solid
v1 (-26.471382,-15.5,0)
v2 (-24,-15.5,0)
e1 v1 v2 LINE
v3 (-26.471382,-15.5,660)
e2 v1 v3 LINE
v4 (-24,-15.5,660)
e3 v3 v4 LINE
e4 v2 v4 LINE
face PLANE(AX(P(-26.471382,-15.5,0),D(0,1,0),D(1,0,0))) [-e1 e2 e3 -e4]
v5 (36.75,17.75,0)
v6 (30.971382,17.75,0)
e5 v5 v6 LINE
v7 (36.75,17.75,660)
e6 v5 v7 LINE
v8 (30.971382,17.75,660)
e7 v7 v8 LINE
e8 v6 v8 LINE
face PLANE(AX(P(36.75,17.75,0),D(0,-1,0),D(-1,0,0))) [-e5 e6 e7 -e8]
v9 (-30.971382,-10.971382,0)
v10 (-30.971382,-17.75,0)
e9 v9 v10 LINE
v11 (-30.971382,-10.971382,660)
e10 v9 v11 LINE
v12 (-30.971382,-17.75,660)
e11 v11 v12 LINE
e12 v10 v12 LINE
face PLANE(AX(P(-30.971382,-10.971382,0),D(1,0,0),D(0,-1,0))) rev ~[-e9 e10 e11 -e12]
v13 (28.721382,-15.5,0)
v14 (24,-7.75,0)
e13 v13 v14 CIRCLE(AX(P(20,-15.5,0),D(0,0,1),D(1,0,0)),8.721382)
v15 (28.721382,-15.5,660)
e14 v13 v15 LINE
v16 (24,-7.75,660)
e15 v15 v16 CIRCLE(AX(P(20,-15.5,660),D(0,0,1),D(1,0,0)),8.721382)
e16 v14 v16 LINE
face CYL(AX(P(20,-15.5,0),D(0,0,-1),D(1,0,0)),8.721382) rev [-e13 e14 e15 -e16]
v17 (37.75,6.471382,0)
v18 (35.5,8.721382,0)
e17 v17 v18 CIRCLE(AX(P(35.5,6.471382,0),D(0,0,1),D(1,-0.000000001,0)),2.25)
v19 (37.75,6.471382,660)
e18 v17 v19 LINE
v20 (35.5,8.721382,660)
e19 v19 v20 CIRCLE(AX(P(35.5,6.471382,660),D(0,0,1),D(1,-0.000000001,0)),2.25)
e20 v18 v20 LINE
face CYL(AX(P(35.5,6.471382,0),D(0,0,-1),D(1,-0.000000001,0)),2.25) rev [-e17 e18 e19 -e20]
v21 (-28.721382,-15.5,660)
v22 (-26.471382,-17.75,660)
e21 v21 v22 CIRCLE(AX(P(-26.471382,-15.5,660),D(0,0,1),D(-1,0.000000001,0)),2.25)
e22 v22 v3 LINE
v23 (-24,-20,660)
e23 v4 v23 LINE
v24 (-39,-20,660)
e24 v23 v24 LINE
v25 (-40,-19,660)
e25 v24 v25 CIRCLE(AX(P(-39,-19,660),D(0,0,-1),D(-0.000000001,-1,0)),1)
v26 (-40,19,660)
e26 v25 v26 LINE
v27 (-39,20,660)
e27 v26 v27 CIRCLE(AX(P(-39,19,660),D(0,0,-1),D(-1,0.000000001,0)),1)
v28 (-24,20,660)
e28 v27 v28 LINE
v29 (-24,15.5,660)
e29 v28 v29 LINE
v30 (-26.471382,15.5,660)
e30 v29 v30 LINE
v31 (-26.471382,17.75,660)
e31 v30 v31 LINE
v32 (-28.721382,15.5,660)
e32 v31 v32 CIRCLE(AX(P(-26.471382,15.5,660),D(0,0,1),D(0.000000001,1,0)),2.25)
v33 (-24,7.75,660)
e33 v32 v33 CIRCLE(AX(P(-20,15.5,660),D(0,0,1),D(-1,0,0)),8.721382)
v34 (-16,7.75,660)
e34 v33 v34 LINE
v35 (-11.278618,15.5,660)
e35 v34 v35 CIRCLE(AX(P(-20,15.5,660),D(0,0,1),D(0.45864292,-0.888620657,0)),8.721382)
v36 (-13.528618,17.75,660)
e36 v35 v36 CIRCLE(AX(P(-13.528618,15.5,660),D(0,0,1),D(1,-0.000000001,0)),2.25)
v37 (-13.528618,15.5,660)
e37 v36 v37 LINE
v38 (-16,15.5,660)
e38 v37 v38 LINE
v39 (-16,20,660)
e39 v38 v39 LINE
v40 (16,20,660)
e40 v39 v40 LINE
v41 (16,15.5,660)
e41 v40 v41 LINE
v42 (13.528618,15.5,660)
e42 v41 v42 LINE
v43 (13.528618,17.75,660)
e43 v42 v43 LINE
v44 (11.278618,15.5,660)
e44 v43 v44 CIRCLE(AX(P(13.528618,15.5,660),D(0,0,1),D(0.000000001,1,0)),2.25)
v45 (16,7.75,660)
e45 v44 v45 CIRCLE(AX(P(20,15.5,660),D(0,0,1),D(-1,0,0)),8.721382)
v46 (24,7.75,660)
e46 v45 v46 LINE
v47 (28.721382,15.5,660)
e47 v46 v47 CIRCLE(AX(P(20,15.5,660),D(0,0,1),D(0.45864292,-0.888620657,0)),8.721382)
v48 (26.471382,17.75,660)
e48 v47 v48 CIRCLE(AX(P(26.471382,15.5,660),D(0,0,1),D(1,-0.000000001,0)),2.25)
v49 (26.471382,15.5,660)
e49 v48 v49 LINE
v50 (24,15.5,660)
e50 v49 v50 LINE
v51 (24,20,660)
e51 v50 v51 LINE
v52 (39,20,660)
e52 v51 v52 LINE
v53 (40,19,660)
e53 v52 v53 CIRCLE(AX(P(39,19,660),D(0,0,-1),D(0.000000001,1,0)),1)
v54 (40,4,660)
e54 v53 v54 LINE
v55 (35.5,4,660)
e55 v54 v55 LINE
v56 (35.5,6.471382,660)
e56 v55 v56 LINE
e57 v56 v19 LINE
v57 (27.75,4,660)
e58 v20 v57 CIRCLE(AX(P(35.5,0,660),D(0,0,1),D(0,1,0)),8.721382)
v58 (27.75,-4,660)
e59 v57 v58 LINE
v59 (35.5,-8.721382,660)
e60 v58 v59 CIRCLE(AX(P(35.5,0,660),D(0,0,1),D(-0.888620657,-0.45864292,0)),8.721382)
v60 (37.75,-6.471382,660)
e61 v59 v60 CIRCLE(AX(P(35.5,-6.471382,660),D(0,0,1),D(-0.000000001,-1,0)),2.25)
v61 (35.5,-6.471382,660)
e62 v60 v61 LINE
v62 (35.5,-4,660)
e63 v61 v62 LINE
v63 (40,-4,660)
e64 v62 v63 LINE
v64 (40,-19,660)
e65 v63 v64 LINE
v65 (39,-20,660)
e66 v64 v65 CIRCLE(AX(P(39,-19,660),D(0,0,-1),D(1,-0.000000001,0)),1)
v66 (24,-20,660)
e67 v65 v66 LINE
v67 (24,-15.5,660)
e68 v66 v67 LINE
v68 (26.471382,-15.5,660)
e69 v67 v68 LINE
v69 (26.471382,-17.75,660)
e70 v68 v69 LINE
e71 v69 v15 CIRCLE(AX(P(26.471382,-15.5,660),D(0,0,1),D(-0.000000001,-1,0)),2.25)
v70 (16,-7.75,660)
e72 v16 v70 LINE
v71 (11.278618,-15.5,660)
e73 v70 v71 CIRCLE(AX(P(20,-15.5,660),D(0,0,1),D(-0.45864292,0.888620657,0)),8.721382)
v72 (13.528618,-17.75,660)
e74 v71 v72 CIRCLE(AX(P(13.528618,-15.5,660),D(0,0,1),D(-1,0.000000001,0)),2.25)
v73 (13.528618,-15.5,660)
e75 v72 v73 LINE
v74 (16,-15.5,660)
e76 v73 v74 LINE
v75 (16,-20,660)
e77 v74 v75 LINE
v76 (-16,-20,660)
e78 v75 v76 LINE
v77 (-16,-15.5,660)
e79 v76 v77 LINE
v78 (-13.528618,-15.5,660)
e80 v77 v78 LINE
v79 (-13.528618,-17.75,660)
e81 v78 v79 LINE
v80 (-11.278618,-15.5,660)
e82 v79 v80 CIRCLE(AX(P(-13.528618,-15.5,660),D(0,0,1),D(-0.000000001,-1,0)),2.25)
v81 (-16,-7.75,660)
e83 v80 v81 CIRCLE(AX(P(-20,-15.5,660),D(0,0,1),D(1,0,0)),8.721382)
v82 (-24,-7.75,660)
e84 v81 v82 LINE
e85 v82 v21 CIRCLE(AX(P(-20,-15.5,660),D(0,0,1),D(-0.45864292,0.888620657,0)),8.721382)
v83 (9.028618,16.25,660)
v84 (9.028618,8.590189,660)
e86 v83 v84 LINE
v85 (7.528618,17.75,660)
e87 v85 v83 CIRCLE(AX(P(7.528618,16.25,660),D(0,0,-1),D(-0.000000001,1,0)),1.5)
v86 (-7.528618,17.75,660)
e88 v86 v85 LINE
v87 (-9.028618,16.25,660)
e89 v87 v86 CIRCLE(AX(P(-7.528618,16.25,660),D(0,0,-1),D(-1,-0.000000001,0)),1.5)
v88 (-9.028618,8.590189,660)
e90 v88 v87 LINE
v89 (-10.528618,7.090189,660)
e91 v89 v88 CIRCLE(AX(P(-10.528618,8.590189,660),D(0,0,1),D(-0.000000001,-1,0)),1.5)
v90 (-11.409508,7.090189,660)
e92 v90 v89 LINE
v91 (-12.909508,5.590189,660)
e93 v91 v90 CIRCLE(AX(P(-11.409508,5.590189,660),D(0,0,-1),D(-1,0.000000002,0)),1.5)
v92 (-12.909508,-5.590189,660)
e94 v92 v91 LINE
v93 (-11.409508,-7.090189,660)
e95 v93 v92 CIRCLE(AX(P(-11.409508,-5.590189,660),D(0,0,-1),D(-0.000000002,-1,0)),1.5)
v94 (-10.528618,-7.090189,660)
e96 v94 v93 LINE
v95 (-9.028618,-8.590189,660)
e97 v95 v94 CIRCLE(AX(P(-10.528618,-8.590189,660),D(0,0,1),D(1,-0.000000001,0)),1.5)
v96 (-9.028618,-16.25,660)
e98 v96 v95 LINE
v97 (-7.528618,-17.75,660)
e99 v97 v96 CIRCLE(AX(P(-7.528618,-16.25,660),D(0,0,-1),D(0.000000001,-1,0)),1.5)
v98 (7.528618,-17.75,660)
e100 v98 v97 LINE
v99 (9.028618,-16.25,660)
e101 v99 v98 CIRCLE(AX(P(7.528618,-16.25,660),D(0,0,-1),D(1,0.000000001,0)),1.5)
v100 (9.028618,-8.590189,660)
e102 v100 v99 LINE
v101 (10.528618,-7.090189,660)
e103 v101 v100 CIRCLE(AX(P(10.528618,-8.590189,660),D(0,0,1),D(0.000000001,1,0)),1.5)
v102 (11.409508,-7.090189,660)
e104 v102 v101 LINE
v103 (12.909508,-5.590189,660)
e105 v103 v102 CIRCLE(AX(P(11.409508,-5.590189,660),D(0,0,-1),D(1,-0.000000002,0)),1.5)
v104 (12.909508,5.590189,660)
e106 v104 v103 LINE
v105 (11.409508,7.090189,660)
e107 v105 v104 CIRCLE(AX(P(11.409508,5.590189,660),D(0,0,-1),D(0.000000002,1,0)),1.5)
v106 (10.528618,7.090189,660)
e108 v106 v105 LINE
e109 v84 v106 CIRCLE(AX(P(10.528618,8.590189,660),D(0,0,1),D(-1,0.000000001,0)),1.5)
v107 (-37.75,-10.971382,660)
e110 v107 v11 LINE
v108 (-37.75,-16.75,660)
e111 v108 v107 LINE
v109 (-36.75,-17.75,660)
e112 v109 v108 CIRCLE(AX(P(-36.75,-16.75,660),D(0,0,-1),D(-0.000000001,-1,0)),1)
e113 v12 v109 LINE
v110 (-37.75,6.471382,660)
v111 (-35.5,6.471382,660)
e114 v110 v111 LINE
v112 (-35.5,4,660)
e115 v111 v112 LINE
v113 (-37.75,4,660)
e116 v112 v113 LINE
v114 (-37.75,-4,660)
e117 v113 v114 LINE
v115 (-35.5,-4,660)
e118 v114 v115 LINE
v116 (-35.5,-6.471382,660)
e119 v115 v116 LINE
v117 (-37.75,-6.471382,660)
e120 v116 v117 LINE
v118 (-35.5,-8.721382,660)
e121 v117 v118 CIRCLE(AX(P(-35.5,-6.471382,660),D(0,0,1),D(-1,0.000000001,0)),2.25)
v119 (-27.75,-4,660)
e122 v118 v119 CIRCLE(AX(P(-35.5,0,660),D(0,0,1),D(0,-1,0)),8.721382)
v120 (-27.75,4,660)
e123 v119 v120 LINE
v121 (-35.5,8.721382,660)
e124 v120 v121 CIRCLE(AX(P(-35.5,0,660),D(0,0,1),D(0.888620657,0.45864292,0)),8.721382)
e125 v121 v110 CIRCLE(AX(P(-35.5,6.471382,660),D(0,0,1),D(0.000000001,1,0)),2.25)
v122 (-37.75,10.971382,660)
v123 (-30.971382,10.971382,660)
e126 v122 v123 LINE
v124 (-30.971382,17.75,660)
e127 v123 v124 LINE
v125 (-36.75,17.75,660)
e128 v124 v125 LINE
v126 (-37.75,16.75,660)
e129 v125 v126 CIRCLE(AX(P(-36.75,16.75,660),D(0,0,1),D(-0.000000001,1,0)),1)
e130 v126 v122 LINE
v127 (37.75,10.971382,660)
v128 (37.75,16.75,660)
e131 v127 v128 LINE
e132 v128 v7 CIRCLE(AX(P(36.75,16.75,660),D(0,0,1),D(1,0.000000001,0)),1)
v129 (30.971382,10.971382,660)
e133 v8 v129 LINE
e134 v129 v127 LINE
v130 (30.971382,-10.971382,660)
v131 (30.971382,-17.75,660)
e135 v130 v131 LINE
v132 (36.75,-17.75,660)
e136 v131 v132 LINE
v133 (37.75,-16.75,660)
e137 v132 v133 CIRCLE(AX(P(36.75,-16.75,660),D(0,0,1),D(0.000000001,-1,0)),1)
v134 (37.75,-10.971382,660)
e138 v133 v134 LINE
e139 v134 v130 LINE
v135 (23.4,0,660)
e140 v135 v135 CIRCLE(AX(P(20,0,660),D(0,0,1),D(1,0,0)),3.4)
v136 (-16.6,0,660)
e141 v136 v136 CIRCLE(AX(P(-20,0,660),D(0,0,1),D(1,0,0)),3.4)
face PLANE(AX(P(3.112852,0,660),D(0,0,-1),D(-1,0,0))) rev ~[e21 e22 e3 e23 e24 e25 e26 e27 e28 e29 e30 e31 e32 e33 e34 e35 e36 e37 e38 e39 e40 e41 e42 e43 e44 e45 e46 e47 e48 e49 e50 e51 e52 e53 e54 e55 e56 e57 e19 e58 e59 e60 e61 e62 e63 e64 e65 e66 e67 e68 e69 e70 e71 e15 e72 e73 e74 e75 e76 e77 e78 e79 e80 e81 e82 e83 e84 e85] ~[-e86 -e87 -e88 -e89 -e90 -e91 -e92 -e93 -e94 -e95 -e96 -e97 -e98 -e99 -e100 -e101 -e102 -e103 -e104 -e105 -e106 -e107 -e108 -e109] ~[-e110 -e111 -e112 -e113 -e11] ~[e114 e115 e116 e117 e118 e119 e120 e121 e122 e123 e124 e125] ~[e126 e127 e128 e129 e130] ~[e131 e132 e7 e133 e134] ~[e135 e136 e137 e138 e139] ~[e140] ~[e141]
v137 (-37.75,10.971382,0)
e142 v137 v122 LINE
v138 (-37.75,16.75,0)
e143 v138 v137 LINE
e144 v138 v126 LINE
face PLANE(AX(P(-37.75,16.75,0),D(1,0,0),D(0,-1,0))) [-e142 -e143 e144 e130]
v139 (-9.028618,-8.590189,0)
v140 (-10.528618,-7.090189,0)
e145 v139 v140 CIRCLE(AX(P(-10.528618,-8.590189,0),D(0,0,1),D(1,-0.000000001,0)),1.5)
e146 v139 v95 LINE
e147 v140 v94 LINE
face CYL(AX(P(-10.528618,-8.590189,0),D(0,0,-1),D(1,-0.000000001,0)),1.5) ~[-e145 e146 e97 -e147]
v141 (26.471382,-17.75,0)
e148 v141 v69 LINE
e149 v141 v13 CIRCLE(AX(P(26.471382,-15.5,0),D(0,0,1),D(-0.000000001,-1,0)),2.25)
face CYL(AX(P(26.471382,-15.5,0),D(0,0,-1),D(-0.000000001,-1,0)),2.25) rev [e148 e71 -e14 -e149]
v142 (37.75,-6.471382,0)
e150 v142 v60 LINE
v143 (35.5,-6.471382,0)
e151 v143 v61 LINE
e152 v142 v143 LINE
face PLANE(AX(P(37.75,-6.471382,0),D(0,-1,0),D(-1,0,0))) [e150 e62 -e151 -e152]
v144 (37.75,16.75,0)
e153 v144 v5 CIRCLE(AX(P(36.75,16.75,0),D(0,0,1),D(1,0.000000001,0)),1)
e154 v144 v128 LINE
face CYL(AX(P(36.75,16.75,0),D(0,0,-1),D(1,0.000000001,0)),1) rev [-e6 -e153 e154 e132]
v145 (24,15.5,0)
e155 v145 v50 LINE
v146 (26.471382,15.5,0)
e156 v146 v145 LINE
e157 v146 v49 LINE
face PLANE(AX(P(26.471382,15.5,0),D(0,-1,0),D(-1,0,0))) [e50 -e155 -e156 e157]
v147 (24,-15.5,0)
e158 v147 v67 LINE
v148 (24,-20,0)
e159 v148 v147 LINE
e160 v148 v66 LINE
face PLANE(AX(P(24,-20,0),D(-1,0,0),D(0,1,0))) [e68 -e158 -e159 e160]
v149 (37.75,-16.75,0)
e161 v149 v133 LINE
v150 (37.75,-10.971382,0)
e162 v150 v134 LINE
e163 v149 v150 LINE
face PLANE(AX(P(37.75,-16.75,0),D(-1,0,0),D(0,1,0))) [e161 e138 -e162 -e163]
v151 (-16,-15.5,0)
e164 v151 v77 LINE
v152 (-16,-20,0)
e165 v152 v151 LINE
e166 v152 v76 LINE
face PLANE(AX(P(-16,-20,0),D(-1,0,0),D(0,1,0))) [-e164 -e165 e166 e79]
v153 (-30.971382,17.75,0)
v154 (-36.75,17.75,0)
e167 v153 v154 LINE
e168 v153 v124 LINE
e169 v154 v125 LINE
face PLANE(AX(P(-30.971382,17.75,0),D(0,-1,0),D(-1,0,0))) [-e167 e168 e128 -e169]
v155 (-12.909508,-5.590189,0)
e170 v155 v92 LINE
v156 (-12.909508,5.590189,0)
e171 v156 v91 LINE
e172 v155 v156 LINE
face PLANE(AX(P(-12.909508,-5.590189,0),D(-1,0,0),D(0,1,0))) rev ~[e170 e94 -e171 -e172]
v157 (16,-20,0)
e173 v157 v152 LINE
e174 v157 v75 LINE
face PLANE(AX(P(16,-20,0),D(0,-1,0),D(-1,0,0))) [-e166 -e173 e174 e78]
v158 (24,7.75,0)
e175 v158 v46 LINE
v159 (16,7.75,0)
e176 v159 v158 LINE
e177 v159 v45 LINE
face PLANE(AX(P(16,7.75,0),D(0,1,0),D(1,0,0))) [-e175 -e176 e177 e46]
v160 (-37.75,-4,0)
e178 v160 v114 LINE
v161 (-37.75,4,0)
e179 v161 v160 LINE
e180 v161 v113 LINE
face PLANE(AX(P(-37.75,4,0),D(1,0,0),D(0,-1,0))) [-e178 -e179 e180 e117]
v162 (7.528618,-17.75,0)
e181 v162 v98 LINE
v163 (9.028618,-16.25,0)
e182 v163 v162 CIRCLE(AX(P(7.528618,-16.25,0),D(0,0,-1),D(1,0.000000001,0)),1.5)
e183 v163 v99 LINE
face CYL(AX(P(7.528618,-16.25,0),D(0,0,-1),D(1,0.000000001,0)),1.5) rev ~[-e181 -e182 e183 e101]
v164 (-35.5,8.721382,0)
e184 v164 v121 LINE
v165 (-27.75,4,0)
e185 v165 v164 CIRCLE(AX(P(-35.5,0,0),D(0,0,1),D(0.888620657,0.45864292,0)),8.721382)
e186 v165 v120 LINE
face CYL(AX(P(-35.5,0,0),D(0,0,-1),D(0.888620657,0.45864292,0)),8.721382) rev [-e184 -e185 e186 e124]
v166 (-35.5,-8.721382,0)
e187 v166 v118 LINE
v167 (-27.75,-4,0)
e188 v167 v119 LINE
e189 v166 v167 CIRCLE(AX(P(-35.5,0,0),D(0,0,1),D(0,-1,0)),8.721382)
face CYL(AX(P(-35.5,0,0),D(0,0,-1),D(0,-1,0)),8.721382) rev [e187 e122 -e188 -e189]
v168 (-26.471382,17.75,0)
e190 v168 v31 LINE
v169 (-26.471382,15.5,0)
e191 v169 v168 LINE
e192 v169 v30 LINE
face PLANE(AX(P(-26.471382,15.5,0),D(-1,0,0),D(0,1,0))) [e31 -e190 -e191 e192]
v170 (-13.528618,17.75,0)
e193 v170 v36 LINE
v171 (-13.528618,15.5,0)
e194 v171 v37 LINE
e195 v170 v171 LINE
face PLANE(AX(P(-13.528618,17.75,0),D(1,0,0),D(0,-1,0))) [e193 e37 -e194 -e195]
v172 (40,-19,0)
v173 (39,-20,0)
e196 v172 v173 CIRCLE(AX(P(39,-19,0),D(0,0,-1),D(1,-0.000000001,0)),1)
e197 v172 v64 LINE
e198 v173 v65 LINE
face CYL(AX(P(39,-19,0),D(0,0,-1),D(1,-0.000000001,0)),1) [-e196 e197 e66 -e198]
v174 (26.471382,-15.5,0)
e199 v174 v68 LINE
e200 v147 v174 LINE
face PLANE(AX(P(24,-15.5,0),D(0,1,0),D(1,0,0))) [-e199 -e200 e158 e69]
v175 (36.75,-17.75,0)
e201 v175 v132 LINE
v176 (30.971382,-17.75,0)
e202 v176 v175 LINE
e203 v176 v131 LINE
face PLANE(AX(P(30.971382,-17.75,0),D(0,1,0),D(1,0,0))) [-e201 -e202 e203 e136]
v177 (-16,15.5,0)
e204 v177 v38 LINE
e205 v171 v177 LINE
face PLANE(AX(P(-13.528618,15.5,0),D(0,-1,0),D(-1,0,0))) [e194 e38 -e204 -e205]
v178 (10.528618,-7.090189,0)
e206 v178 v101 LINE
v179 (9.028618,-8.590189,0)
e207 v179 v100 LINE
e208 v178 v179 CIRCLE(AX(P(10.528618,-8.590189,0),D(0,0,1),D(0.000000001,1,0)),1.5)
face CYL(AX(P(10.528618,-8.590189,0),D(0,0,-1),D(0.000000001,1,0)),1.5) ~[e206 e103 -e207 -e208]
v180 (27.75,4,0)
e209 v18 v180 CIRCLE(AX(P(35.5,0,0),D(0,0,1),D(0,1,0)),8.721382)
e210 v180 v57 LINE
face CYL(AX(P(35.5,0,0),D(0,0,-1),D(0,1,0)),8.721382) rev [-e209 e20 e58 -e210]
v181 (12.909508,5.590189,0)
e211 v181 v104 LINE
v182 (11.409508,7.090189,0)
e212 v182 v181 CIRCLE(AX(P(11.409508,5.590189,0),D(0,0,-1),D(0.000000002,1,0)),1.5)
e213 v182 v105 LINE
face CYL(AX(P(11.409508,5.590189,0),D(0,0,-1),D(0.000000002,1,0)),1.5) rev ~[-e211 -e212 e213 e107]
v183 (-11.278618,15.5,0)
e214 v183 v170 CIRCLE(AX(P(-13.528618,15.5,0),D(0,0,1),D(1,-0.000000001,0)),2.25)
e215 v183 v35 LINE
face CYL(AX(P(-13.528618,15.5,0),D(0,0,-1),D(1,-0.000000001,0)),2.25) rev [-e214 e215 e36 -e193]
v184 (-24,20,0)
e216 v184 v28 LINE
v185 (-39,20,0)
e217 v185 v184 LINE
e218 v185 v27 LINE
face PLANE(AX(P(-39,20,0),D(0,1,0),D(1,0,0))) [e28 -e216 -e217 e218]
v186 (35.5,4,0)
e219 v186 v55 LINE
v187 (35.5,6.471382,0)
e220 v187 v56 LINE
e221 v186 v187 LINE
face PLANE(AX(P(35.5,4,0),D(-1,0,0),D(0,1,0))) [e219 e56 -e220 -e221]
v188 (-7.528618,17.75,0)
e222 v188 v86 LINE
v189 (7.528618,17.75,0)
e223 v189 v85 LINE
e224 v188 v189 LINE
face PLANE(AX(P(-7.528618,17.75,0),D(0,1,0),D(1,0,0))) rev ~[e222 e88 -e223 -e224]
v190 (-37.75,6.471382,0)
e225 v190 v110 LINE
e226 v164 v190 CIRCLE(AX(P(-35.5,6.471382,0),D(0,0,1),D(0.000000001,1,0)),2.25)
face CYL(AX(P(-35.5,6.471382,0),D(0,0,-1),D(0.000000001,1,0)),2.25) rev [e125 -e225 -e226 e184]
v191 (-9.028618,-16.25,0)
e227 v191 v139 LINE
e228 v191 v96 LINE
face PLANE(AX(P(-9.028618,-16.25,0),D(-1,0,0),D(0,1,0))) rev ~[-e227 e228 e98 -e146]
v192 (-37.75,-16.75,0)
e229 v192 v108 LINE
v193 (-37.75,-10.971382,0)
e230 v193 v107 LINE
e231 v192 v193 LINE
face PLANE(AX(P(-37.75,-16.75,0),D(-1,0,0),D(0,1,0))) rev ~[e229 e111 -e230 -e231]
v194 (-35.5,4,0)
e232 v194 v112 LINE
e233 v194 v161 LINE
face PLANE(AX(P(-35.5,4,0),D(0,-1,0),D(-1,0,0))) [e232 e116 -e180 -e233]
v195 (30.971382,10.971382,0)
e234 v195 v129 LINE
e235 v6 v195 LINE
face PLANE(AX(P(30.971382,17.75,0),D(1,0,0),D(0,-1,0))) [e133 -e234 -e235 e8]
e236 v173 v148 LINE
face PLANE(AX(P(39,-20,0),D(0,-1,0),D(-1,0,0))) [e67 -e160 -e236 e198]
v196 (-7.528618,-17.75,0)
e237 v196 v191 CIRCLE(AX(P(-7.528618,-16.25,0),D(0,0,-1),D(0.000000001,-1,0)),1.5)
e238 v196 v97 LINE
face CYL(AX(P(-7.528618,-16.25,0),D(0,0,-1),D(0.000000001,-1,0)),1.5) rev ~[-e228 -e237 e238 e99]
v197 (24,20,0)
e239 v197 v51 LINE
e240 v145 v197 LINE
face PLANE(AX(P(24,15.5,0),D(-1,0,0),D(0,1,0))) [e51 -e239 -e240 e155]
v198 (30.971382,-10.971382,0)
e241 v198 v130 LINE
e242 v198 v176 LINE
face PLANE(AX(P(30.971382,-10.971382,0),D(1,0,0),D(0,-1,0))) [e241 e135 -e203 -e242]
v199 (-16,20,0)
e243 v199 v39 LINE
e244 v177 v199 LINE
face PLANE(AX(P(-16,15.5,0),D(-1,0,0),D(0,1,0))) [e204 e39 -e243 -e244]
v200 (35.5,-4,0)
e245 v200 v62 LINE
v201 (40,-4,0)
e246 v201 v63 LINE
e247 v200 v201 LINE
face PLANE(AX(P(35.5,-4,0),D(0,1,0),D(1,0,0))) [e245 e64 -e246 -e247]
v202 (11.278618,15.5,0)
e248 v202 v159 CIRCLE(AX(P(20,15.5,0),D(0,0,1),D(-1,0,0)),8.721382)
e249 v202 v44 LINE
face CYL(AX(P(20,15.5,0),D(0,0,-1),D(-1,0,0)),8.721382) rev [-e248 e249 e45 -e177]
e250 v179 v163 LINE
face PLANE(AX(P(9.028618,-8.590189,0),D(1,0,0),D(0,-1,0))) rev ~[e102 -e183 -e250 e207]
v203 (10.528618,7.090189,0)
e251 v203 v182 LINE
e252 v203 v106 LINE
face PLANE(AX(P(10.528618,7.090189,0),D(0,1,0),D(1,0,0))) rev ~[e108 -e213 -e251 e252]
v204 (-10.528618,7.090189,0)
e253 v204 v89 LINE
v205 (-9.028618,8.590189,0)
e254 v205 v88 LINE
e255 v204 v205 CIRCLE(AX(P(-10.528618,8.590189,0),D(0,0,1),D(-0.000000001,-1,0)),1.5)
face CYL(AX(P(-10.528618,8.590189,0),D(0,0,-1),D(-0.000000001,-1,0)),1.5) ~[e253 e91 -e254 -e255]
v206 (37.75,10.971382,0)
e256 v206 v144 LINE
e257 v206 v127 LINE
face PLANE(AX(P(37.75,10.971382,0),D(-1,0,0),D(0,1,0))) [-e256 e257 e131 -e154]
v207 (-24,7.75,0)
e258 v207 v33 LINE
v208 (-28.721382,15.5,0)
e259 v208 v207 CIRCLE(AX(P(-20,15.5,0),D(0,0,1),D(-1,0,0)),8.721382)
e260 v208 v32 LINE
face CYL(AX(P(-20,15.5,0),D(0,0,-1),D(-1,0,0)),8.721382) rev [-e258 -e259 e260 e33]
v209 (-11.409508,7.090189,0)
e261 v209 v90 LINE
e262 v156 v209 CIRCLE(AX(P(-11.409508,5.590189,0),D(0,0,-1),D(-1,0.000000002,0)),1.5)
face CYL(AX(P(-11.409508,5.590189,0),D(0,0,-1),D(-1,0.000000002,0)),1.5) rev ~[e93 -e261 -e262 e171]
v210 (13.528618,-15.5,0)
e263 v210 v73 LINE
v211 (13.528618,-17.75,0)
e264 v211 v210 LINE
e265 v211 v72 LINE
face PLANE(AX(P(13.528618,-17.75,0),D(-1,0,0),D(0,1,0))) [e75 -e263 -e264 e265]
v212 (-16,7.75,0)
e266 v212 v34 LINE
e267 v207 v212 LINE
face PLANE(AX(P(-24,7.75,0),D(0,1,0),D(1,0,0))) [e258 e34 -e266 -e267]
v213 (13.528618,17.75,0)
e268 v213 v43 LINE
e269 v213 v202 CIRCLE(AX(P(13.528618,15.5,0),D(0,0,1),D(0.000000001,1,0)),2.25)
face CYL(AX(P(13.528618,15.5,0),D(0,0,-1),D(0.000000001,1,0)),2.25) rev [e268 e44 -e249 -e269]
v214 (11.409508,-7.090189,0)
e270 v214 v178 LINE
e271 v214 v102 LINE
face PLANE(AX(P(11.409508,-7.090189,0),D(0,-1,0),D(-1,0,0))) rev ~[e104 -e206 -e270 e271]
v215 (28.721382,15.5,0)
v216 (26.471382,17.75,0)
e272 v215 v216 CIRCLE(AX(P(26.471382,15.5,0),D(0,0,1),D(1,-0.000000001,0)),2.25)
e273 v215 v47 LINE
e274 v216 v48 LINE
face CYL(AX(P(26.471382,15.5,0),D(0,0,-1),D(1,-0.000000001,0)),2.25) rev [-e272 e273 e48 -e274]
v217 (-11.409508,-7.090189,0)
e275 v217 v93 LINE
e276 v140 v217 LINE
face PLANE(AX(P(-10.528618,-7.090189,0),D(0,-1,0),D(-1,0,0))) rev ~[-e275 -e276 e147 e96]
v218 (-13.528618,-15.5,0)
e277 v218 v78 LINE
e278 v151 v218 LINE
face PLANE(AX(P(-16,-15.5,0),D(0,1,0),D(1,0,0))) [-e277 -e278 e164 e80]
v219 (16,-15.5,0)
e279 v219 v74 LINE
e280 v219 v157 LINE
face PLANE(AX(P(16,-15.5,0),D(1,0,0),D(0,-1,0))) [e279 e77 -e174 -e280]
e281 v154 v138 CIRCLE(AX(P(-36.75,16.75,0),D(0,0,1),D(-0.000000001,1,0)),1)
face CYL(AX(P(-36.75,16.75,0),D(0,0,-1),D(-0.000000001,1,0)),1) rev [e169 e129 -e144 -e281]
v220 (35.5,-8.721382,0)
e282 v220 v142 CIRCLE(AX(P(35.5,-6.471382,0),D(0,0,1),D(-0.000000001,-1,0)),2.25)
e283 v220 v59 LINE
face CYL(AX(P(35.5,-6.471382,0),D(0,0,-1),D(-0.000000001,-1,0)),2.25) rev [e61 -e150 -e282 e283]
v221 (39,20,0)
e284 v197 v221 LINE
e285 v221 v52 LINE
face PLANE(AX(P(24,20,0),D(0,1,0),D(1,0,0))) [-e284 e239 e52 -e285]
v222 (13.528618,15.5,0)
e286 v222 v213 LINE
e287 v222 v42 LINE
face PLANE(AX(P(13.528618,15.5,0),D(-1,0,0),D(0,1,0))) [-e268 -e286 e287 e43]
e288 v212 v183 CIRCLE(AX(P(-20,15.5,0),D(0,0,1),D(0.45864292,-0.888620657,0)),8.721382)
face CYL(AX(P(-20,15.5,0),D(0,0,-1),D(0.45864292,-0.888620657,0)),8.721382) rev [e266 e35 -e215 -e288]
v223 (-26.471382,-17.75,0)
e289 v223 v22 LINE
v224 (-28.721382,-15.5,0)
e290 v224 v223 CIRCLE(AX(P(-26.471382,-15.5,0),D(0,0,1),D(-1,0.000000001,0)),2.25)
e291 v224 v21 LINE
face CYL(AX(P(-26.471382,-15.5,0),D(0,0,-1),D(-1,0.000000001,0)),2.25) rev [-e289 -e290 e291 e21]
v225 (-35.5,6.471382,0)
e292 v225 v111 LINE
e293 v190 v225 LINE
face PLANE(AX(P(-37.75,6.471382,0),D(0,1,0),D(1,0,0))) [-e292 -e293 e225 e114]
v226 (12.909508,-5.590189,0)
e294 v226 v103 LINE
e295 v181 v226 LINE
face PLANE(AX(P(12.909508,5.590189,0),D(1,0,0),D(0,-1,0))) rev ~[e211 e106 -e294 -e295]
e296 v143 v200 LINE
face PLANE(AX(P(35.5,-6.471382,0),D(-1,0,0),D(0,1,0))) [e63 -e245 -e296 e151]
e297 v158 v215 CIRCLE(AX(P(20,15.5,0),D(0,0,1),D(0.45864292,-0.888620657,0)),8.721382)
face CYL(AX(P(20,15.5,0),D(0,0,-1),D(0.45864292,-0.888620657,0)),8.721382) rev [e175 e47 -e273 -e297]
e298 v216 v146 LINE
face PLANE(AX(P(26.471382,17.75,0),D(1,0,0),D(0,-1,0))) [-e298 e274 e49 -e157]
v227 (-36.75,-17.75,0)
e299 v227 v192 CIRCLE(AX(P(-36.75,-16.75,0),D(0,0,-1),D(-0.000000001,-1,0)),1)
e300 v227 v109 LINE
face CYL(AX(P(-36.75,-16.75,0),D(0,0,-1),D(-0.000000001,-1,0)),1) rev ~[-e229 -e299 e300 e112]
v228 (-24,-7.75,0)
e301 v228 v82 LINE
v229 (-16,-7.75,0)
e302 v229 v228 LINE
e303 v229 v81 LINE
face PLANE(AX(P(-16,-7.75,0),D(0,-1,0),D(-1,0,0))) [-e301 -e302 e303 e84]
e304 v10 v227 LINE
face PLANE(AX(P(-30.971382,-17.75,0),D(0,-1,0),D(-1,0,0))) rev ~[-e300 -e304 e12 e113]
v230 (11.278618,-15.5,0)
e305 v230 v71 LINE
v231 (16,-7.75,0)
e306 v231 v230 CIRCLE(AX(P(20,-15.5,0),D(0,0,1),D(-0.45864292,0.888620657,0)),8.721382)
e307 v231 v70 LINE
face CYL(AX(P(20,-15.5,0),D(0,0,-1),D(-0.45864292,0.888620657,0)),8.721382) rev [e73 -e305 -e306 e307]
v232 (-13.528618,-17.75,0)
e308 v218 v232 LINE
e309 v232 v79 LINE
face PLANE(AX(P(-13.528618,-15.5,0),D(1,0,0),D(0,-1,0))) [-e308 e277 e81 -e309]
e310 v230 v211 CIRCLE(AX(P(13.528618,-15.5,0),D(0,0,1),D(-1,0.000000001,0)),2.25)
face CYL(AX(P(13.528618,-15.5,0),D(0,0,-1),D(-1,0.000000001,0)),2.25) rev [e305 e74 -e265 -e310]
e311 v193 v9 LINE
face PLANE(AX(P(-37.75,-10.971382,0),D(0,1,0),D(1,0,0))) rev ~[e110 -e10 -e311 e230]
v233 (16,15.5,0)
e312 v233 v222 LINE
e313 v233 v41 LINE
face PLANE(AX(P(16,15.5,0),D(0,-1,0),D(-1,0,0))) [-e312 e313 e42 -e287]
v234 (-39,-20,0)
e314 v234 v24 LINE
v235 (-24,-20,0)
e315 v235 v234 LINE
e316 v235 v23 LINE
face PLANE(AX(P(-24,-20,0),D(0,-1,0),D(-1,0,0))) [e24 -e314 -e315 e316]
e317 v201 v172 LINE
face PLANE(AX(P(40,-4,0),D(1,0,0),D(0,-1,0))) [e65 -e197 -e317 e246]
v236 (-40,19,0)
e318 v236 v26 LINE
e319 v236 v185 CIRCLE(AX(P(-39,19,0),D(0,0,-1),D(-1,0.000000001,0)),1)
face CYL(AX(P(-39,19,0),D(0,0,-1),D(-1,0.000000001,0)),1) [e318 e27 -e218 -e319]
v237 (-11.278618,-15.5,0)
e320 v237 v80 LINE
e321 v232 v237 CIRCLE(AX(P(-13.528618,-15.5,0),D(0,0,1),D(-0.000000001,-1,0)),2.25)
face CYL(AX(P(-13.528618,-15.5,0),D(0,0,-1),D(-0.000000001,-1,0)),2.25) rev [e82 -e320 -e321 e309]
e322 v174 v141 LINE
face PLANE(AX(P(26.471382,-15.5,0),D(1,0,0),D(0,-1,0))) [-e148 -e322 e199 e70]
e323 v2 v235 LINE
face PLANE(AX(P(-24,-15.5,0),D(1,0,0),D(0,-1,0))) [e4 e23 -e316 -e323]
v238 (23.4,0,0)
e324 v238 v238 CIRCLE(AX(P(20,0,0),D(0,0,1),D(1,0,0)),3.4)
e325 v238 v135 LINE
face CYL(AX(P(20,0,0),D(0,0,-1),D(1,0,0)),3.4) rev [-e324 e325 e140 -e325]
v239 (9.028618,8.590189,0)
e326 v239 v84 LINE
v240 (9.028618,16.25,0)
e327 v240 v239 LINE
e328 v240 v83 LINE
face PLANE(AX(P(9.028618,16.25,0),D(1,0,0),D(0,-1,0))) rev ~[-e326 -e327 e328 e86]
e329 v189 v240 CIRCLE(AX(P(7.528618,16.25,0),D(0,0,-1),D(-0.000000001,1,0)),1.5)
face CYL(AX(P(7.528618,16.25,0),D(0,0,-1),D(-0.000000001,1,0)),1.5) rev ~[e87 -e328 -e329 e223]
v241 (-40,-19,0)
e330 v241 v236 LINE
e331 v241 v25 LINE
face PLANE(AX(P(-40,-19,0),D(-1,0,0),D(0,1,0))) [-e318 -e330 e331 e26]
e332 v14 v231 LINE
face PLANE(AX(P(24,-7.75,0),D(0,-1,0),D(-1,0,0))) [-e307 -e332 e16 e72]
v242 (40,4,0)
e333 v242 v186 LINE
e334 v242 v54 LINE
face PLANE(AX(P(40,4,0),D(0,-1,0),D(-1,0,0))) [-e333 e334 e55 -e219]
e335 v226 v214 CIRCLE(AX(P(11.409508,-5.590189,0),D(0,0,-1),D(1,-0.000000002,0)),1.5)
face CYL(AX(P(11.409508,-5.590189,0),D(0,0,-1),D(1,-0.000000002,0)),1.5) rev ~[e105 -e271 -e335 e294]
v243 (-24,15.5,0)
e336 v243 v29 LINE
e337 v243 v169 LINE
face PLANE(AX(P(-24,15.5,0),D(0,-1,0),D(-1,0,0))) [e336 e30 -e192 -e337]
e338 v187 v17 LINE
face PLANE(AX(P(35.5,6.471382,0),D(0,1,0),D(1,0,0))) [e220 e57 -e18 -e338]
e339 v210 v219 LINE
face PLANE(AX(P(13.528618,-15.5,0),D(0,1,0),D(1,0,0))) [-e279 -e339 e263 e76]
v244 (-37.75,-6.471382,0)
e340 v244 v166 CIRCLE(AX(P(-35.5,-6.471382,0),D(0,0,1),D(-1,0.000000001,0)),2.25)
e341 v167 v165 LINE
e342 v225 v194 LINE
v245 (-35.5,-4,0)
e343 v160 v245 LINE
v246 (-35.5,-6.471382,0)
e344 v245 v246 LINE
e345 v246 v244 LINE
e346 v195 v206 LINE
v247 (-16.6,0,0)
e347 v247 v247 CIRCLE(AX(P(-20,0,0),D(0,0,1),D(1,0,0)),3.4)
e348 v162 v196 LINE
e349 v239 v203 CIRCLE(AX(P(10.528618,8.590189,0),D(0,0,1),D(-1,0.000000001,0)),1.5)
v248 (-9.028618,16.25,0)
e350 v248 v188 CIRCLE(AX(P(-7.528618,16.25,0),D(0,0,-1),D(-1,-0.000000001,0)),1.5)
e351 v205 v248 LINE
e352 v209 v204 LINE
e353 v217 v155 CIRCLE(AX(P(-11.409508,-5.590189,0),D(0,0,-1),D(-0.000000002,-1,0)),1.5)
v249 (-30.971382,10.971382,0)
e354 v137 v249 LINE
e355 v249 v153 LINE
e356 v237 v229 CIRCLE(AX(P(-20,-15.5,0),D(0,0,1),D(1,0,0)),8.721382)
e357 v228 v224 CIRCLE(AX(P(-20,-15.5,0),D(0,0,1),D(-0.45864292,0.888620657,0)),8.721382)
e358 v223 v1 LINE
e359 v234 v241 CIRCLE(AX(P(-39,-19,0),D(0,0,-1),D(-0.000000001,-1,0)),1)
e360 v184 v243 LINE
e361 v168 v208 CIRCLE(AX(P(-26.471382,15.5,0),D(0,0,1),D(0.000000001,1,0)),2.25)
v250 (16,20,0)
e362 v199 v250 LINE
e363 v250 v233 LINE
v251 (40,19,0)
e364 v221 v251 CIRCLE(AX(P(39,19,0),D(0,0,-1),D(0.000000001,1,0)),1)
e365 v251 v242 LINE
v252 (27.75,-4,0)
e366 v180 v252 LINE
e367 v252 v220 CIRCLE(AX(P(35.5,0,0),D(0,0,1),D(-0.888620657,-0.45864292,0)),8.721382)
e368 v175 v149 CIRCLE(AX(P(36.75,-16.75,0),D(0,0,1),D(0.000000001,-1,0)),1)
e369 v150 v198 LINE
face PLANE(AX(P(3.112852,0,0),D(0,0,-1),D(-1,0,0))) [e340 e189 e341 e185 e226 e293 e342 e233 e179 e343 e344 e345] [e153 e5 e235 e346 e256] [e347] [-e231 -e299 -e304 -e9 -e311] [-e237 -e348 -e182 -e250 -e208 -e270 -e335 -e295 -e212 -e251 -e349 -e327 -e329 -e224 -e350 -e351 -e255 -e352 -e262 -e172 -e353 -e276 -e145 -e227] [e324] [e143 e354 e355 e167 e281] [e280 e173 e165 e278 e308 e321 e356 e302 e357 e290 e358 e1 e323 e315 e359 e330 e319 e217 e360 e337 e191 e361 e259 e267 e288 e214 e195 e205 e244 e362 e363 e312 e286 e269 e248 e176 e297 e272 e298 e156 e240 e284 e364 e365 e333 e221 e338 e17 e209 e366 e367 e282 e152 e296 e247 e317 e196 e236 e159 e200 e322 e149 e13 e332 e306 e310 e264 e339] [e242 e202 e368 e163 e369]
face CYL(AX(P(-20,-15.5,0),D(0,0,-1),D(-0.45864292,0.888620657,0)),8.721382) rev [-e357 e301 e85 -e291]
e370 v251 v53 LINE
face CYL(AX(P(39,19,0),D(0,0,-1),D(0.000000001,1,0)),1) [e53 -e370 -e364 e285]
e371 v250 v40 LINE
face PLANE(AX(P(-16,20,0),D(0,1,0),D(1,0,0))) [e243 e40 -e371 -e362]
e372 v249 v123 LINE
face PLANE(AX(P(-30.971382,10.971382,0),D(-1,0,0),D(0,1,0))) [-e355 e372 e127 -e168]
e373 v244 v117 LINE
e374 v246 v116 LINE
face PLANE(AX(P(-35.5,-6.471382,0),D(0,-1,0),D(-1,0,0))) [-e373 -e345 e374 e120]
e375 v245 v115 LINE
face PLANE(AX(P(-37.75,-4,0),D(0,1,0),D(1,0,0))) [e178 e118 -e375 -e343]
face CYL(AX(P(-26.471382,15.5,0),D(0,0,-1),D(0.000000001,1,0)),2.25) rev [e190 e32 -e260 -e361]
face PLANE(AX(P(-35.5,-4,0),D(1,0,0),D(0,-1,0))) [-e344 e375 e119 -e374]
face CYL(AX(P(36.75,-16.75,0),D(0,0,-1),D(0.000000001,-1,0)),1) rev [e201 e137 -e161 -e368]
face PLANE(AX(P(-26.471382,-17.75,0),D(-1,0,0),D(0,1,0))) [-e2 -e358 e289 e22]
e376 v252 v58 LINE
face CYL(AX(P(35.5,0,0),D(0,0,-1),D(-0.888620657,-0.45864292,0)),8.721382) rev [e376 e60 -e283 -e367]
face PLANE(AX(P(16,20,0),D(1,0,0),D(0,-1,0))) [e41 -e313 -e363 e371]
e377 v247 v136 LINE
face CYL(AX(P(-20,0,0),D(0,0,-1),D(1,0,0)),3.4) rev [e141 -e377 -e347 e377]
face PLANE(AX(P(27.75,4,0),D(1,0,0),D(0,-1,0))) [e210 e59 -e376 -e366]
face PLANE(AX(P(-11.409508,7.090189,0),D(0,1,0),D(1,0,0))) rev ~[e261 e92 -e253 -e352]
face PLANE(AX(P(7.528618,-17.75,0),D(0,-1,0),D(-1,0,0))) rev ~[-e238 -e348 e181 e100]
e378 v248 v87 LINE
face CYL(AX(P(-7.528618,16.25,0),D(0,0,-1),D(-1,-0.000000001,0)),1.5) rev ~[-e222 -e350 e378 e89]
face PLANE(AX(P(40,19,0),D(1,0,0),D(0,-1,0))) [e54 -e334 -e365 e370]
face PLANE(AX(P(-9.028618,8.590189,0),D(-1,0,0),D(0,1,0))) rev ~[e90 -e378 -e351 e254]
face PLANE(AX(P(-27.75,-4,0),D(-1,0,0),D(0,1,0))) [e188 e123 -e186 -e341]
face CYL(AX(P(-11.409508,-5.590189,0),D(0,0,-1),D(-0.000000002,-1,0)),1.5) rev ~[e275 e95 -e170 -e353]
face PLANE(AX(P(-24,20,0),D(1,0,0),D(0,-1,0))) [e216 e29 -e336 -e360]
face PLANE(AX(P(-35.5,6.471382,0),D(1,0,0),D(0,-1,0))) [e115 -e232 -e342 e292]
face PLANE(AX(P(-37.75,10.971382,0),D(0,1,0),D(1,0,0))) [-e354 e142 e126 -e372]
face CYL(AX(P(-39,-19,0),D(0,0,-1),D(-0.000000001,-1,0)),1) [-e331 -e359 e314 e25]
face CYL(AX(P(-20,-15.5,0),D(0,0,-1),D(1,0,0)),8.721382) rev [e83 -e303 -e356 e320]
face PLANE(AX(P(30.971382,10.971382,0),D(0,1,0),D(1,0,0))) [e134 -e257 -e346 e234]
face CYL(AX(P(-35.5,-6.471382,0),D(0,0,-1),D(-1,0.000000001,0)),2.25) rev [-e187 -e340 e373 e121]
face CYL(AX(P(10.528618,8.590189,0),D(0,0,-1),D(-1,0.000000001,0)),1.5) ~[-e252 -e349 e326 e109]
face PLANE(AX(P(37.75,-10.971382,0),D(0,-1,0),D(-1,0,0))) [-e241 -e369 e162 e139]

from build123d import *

# Parameters (mm, degrees)
SZKIC1_R                    = 3.4
DODANIE_WYCI_GNI_CIE1_DEPTH = 660


with BuildPart() as part:
    # Szkic1 → Dodanie-wyciągnięcie1 (new body)
    with BuildSketch(Plane.XY):
        with BuildLine():
            Line((-40, -19), (-40, 19))
            ThreePointArc((-40, 19), (-39.707106781, 19.707106781), (-39, 20))
            Line((-39, 20), (-24, 20))
            Line((-24, 20), (-24, 15.5))
            Line((-24, 15.5), (-26.471381771, 15.5))
            Line((-26.471381771, 15.5), (-26.471381771, 17.75))
            ThreePointArc((-26.471381771, 17.75), (-28.062372029, 17.090990258), (-28.721381771, 15.5))
            ThreePointArc((-28.721381771, 15.5), (-27.448087912, 10.962546258), (-24, 7.75))
            Line((-24, 7.75), (-16, 7.75))
            ThreePointArc((-16, 7.75), (-12.551912088, 10.962546258), (-11.278618229, 15.5))
            ThreePointArc((-11.278618229, 15.5), (-11.937627971, 17.090990258), (-13.528618229, 17.75))
            Line((-13.528618229, 17.75), (-13.528618229, 15.5))
            Line((-13.528618229, 15.5), (-16, 15.5))
            Line((-16, 15.5), (-16, 20))
            Line((-16, 20), (13.528618229, 20))
            Line((13.528618229, 20), (16, 20))
            Line((16, 20), (16, 15.5))
            Line((16, 15.5), (13.528618229, 15.5))
            Line((13.528618229, 15.5), (13.528618229, 17.75))
            ThreePointArc((13.528618229, 17.75), (11.937627971, 17.090990258), (11.278618229, 15.5))
            ThreePointArc((11.278618229, 15.5), (12.551912088, 10.962546258), (16, 7.75))
            Line((16, 7.75), (24, 7.75))
            ThreePointArc((24, 7.75), (27.448087912, 10.962546258), (28.721381771, 15.5))
            ThreePointArc((28.721381771, 15.5), (28.062372029, 17.090990258), (26.471381771, 17.75))
            Line((26.471381771, 17.75), (26.471381771, 15.5))
            Line((26.471381771, 15.5), (24, 15.5))
            Line((24, 15.5), (24, 20))
            Line((24, 20), (39, 20))
            ThreePointArc((39, 20), (39.707106781, 19.707106781), (40, 19))
            Line((40, 19), (40, 4))
            Line((40, 4), (35.5, 4))
            Line((35.5, 4), (35.5, 6.471381771))
            Line((35.5, 6.471381771), (37.75, 6.471381771))
            ThreePointArc((37.75, 6.471381771), (37.090990258, 8.062372029), (35.5, 8.721381771))
            ThreePointArc((35.5, 8.721381771), (30.962546258, 7.448087912), (27.75, 4))
            Line((27.75, 4), (27.75, -4))
            ThreePointArc((27.75, -4), (30.962546258, -7.448087912), (35.5, -8.721381771))
            ThreePointArc((35.5, -8.721381771), (37.090990258, -8.062372029), (37.75, -6.471381771))
            Line((37.75, -6.471381771), (35.5, -6.471381771))
            Line((35.5, -6.471381771), (35.5, -4))
            Line((35.5, -4), (40, -4))
            Line((40, -4), (40, -19))
            ThreePointArc((40, -19), (39.707106781, -19.707106781), (39, -20))
            Line((39, -20), (24, -20))
            Line((24, -20), (24, -15.5))
            Line((24, -15.5), (26.471381771, -15.5))
            Line((26.471381771, -15.5), (26.471381771, -17.75))
            ThreePointArc((26.471381771, -17.75), (28.062372029, -17.090990258), (28.721381771, -15.5))
            ThreePointArc((28.721381771, -15.5), (27.448087912, -10.962546258), (24, -7.75))
            Line((24, -7.75), (16, -7.75))
            ThreePointArc((16, -7.75), (12.551912088, -10.962546258), (11.278618229, -15.5))
            ThreePointArc((11.278618229, -15.5), (11.937627971, -17.090990258), (13.528618229, -17.75))
            Line((13.528618229, -17.75), (13.528618229, -15.5))
            Line((13.528618229, -15.5), (16, -15.5))
            Line((16, -15.5), (16, -20))
            Line((16, -20), (-16, -20))
            Line((-16, -20), (-16, -15.5))
            Line((-16, -15.5), (-13.528618229, -15.5))
            Line((-13.528618229, -15.5), (-13.528618229, -17.75))
            ThreePointArc((-13.528618229, -17.75), (-11.937627971, -17.090990258), (-11.278618229, -15.5))
            ThreePointArc((-11.278618229, -15.5), (-12.551912088, -10.962546258), (-16, -7.75))
            Line((-16, -7.75), (-24, -7.75))
            ThreePointArc((-24, -7.75), (-27.448087912, -10.962546258), (-28.721381771, -15.5))
            ThreePointArc((-28.721381771, -15.5), (-28.062372029, -17.090990258), (-26.471381771, -17.75))
            Line((-26.471381771, -17.75), (-26.471381771, -15.5))
            Line((-26.471381771, -15.5), (-24, -15.5))
            Line((-24, -15.5), (-24, -20))
            Line((-24, -20), (-39, -20))
            ThreePointArc((-39, -20), (-39.707106781, -19.707106781), (-40, -19))
        make_face()
        with Locations((-20, 0)):
            Circle(SZKIC1_R, mode=Mode.SUBTRACT)
        with Locations((20, 0)):
            Circle(SZKIC1_R, mode=Mode.SUBTRACT)
        with BuildLine():
            Line((30.971381771, -17.75), (36.75, -17.75))
            ThreePointArc((36.75, -17.75), (37.457106781, -17.457106781), (37.75, -16.75))
            Line((37.75, -16.75), (37.75, -10.971381771))
            Line((37.75, -10.971381771), (30.971381771, -10.971381771))
            Line((30.971381771, -10.971381771), (30.971381771, -17.75))
        make_face(mode=Mode.SUBTRACT)
        with BuildLine():
            Line((-35.5, -6.471381771), (-37.75, -6.471381771))
            ThreePointArc((-37.75, -6.471381771), (-37.090990258, -8.062372029), (-35.5, -8.721381771))
            ThreePointArc((-35.5, -8.721381771), (-30.962546258, -7.448087912), (-27.75, -4))
            Line((-27.75, -4), (-27.75, 4))
            ThreePointArc((-27.75, 4), (-30.962546258, 7.448087912), (-35.5, 8.721381771))
            ThreePointArc((-35.5, 8.721381771), (-37.090990258, 8.062372029), (-37.75, 6.471381771))
            Line((-37.75, 6.471381771), (-35.5, 6.471381771))
            Line((-35.5, 6.471381771), (-35.5, 4))
            Line((-35.5, 4), (-37.75, 4))
            Line((-37.75, 4), (-37.75, -4))
            Line((-37.75, -4), (-35.5, -4))
            Line((-35.5, -4), (-35.5, -6.471381771))
        make_face(mode=Mode.SUBTRACT)
        with BuildLine():
            Line((10.528618229, 7.090188806), (11.40950808, 7.090188806))
            ThreePointArc((11.40950808, 7.090188806), (12.470168251, 6.650848977), (12.90950808, 5.590188806))
            Line((12.90950808, 5.590188806), (12.90950808, -5.590188806))
            ThreePointArc((12.90950808, -5.590188806), (12.470168251, -6.650848977), (11.40950808, -7.090188806))
            Line((11.40950808, -7.090188806), (10.528618229, -7.090188806))
            ThreePointArc((10.528618229, -7.090188806), (9.467958057, -7.529528634), (9.028618229, -8.590188806))
            Line((9.028618229, -8.590188806), (9.028618229, -16.25))
            ThreePointArc((9.028618229, -16.25), (8.589278401, -17.310660172), (7.528618229, -17.75))
            Line((7.528618229, -17.75), (-7.528618229, -17.75))
            ThreePointArc((-7.528618229, -17.75), (-8.589278401, -17.310660172), (-9.028618229, -16.25))
            Line((-9.028618229, -16.25), (-9.028618229, -8.590188806))
            ThreePointArc((-9.028618229, -8.590188806), (-9.467958057, -7.529528634), (-10.528618229, -7.090188806))
            Line((-10.528618229, -7.090188806), (-11.40950808, -7.090188806))
            ThreePointArc((-11.40950808, -7.090188806), (-12.470168251, -6.650848977), (-12.90950808, -5.590188806))
            Line((-12.90950808, -5.590188806), (-12.90950808, 5.590188806))
            ThreePointArc((-12.90950808, 5.590188806), (-12.470168251, 6.650848977), (-11.40950808, 7.090188806))
            Line((-11.40950808, 7.090188806), (-10.528618229, 7.090188806))
            ThreePointArc((-10.528618229, 7.090188806), (-9.467958057, 7.529528634), (-9.028618229, 8.590188806))
            Line((-9.028618229, 8.590188806), (-9.028618229, 16.25))
            ThreePointArc((-9.028618229, 16.25), (-8.589278401, 17.310660172), (-7.528618229, 17.75))
            Line((-7.528618229, 17.75), (7.528618229, 17.75))
            ThreePointArc((7.528618229, 17.75), (8.589278401, 17.310660172), (9.028618229, 16.25))
            Line((9.028618229, 16.25), (9.028618229, 8.590188806))
            ThreePointArc((9.028618229, 8.590188806), (9.467958057, 7.529528634), (10.528618229, 7.090188806))
        make_face(mode=Mode.SUBTRACT)
        with BuildLine():
            Line((30.971381771, 10.971381771), (37.75, 10.971381771))
            Line((37.75, 10.971381771), (37.75, 16.75))
            ThreePointArc((37.75, 16.75), (37.457106781, 17.457106781), (36.75, 17.75))
            Line((36.75, 17.75), (30.971381771, 17.75))
            Line((30.971381771, 17.75), (30.971381771, 10.971381771))
        make_face(mode=Mode.SUBTRACT)
        with BuildLine():
            Line((-30.971381771, -10.971381771), (-30.971381771, -17.75))
            Line((-30.971381771, -17.75), (-36.75, -17.75))
            ThreePointArc((-36.75, -17.75), (-37.457106781, -17.457106781), (-37.75, -16.75))
            Line((-37.75, -16.75), (-37.75, -10.971381771))
            Line((-37.75, -10.971381771), (-30.971381771, -10.971381771))
        make_face(mode=Mode.SUBTRACT)
        with BuildLine():
            Line((-30.971381771, 17.75), (-36.75, 17.75))
            ThreePointArc((-36.75, 17.75), (-37.457106781, 17.457106781), (-37.75, 16.75))
            Line((-37.75, 16.75), (-37.75, 10.971381771))
            Line((-37.75, 10.971381771), (-30.971381771, 10.971381771))
            Line((-30.971381771, 10.971381771), (-30.971381771, 17.75))
        make_face(mode=Mode.SUBTRACT)
    extrude(amount=DODANIE_WYCI_GNI_CIE1_DEPTH)


solid = part.part
